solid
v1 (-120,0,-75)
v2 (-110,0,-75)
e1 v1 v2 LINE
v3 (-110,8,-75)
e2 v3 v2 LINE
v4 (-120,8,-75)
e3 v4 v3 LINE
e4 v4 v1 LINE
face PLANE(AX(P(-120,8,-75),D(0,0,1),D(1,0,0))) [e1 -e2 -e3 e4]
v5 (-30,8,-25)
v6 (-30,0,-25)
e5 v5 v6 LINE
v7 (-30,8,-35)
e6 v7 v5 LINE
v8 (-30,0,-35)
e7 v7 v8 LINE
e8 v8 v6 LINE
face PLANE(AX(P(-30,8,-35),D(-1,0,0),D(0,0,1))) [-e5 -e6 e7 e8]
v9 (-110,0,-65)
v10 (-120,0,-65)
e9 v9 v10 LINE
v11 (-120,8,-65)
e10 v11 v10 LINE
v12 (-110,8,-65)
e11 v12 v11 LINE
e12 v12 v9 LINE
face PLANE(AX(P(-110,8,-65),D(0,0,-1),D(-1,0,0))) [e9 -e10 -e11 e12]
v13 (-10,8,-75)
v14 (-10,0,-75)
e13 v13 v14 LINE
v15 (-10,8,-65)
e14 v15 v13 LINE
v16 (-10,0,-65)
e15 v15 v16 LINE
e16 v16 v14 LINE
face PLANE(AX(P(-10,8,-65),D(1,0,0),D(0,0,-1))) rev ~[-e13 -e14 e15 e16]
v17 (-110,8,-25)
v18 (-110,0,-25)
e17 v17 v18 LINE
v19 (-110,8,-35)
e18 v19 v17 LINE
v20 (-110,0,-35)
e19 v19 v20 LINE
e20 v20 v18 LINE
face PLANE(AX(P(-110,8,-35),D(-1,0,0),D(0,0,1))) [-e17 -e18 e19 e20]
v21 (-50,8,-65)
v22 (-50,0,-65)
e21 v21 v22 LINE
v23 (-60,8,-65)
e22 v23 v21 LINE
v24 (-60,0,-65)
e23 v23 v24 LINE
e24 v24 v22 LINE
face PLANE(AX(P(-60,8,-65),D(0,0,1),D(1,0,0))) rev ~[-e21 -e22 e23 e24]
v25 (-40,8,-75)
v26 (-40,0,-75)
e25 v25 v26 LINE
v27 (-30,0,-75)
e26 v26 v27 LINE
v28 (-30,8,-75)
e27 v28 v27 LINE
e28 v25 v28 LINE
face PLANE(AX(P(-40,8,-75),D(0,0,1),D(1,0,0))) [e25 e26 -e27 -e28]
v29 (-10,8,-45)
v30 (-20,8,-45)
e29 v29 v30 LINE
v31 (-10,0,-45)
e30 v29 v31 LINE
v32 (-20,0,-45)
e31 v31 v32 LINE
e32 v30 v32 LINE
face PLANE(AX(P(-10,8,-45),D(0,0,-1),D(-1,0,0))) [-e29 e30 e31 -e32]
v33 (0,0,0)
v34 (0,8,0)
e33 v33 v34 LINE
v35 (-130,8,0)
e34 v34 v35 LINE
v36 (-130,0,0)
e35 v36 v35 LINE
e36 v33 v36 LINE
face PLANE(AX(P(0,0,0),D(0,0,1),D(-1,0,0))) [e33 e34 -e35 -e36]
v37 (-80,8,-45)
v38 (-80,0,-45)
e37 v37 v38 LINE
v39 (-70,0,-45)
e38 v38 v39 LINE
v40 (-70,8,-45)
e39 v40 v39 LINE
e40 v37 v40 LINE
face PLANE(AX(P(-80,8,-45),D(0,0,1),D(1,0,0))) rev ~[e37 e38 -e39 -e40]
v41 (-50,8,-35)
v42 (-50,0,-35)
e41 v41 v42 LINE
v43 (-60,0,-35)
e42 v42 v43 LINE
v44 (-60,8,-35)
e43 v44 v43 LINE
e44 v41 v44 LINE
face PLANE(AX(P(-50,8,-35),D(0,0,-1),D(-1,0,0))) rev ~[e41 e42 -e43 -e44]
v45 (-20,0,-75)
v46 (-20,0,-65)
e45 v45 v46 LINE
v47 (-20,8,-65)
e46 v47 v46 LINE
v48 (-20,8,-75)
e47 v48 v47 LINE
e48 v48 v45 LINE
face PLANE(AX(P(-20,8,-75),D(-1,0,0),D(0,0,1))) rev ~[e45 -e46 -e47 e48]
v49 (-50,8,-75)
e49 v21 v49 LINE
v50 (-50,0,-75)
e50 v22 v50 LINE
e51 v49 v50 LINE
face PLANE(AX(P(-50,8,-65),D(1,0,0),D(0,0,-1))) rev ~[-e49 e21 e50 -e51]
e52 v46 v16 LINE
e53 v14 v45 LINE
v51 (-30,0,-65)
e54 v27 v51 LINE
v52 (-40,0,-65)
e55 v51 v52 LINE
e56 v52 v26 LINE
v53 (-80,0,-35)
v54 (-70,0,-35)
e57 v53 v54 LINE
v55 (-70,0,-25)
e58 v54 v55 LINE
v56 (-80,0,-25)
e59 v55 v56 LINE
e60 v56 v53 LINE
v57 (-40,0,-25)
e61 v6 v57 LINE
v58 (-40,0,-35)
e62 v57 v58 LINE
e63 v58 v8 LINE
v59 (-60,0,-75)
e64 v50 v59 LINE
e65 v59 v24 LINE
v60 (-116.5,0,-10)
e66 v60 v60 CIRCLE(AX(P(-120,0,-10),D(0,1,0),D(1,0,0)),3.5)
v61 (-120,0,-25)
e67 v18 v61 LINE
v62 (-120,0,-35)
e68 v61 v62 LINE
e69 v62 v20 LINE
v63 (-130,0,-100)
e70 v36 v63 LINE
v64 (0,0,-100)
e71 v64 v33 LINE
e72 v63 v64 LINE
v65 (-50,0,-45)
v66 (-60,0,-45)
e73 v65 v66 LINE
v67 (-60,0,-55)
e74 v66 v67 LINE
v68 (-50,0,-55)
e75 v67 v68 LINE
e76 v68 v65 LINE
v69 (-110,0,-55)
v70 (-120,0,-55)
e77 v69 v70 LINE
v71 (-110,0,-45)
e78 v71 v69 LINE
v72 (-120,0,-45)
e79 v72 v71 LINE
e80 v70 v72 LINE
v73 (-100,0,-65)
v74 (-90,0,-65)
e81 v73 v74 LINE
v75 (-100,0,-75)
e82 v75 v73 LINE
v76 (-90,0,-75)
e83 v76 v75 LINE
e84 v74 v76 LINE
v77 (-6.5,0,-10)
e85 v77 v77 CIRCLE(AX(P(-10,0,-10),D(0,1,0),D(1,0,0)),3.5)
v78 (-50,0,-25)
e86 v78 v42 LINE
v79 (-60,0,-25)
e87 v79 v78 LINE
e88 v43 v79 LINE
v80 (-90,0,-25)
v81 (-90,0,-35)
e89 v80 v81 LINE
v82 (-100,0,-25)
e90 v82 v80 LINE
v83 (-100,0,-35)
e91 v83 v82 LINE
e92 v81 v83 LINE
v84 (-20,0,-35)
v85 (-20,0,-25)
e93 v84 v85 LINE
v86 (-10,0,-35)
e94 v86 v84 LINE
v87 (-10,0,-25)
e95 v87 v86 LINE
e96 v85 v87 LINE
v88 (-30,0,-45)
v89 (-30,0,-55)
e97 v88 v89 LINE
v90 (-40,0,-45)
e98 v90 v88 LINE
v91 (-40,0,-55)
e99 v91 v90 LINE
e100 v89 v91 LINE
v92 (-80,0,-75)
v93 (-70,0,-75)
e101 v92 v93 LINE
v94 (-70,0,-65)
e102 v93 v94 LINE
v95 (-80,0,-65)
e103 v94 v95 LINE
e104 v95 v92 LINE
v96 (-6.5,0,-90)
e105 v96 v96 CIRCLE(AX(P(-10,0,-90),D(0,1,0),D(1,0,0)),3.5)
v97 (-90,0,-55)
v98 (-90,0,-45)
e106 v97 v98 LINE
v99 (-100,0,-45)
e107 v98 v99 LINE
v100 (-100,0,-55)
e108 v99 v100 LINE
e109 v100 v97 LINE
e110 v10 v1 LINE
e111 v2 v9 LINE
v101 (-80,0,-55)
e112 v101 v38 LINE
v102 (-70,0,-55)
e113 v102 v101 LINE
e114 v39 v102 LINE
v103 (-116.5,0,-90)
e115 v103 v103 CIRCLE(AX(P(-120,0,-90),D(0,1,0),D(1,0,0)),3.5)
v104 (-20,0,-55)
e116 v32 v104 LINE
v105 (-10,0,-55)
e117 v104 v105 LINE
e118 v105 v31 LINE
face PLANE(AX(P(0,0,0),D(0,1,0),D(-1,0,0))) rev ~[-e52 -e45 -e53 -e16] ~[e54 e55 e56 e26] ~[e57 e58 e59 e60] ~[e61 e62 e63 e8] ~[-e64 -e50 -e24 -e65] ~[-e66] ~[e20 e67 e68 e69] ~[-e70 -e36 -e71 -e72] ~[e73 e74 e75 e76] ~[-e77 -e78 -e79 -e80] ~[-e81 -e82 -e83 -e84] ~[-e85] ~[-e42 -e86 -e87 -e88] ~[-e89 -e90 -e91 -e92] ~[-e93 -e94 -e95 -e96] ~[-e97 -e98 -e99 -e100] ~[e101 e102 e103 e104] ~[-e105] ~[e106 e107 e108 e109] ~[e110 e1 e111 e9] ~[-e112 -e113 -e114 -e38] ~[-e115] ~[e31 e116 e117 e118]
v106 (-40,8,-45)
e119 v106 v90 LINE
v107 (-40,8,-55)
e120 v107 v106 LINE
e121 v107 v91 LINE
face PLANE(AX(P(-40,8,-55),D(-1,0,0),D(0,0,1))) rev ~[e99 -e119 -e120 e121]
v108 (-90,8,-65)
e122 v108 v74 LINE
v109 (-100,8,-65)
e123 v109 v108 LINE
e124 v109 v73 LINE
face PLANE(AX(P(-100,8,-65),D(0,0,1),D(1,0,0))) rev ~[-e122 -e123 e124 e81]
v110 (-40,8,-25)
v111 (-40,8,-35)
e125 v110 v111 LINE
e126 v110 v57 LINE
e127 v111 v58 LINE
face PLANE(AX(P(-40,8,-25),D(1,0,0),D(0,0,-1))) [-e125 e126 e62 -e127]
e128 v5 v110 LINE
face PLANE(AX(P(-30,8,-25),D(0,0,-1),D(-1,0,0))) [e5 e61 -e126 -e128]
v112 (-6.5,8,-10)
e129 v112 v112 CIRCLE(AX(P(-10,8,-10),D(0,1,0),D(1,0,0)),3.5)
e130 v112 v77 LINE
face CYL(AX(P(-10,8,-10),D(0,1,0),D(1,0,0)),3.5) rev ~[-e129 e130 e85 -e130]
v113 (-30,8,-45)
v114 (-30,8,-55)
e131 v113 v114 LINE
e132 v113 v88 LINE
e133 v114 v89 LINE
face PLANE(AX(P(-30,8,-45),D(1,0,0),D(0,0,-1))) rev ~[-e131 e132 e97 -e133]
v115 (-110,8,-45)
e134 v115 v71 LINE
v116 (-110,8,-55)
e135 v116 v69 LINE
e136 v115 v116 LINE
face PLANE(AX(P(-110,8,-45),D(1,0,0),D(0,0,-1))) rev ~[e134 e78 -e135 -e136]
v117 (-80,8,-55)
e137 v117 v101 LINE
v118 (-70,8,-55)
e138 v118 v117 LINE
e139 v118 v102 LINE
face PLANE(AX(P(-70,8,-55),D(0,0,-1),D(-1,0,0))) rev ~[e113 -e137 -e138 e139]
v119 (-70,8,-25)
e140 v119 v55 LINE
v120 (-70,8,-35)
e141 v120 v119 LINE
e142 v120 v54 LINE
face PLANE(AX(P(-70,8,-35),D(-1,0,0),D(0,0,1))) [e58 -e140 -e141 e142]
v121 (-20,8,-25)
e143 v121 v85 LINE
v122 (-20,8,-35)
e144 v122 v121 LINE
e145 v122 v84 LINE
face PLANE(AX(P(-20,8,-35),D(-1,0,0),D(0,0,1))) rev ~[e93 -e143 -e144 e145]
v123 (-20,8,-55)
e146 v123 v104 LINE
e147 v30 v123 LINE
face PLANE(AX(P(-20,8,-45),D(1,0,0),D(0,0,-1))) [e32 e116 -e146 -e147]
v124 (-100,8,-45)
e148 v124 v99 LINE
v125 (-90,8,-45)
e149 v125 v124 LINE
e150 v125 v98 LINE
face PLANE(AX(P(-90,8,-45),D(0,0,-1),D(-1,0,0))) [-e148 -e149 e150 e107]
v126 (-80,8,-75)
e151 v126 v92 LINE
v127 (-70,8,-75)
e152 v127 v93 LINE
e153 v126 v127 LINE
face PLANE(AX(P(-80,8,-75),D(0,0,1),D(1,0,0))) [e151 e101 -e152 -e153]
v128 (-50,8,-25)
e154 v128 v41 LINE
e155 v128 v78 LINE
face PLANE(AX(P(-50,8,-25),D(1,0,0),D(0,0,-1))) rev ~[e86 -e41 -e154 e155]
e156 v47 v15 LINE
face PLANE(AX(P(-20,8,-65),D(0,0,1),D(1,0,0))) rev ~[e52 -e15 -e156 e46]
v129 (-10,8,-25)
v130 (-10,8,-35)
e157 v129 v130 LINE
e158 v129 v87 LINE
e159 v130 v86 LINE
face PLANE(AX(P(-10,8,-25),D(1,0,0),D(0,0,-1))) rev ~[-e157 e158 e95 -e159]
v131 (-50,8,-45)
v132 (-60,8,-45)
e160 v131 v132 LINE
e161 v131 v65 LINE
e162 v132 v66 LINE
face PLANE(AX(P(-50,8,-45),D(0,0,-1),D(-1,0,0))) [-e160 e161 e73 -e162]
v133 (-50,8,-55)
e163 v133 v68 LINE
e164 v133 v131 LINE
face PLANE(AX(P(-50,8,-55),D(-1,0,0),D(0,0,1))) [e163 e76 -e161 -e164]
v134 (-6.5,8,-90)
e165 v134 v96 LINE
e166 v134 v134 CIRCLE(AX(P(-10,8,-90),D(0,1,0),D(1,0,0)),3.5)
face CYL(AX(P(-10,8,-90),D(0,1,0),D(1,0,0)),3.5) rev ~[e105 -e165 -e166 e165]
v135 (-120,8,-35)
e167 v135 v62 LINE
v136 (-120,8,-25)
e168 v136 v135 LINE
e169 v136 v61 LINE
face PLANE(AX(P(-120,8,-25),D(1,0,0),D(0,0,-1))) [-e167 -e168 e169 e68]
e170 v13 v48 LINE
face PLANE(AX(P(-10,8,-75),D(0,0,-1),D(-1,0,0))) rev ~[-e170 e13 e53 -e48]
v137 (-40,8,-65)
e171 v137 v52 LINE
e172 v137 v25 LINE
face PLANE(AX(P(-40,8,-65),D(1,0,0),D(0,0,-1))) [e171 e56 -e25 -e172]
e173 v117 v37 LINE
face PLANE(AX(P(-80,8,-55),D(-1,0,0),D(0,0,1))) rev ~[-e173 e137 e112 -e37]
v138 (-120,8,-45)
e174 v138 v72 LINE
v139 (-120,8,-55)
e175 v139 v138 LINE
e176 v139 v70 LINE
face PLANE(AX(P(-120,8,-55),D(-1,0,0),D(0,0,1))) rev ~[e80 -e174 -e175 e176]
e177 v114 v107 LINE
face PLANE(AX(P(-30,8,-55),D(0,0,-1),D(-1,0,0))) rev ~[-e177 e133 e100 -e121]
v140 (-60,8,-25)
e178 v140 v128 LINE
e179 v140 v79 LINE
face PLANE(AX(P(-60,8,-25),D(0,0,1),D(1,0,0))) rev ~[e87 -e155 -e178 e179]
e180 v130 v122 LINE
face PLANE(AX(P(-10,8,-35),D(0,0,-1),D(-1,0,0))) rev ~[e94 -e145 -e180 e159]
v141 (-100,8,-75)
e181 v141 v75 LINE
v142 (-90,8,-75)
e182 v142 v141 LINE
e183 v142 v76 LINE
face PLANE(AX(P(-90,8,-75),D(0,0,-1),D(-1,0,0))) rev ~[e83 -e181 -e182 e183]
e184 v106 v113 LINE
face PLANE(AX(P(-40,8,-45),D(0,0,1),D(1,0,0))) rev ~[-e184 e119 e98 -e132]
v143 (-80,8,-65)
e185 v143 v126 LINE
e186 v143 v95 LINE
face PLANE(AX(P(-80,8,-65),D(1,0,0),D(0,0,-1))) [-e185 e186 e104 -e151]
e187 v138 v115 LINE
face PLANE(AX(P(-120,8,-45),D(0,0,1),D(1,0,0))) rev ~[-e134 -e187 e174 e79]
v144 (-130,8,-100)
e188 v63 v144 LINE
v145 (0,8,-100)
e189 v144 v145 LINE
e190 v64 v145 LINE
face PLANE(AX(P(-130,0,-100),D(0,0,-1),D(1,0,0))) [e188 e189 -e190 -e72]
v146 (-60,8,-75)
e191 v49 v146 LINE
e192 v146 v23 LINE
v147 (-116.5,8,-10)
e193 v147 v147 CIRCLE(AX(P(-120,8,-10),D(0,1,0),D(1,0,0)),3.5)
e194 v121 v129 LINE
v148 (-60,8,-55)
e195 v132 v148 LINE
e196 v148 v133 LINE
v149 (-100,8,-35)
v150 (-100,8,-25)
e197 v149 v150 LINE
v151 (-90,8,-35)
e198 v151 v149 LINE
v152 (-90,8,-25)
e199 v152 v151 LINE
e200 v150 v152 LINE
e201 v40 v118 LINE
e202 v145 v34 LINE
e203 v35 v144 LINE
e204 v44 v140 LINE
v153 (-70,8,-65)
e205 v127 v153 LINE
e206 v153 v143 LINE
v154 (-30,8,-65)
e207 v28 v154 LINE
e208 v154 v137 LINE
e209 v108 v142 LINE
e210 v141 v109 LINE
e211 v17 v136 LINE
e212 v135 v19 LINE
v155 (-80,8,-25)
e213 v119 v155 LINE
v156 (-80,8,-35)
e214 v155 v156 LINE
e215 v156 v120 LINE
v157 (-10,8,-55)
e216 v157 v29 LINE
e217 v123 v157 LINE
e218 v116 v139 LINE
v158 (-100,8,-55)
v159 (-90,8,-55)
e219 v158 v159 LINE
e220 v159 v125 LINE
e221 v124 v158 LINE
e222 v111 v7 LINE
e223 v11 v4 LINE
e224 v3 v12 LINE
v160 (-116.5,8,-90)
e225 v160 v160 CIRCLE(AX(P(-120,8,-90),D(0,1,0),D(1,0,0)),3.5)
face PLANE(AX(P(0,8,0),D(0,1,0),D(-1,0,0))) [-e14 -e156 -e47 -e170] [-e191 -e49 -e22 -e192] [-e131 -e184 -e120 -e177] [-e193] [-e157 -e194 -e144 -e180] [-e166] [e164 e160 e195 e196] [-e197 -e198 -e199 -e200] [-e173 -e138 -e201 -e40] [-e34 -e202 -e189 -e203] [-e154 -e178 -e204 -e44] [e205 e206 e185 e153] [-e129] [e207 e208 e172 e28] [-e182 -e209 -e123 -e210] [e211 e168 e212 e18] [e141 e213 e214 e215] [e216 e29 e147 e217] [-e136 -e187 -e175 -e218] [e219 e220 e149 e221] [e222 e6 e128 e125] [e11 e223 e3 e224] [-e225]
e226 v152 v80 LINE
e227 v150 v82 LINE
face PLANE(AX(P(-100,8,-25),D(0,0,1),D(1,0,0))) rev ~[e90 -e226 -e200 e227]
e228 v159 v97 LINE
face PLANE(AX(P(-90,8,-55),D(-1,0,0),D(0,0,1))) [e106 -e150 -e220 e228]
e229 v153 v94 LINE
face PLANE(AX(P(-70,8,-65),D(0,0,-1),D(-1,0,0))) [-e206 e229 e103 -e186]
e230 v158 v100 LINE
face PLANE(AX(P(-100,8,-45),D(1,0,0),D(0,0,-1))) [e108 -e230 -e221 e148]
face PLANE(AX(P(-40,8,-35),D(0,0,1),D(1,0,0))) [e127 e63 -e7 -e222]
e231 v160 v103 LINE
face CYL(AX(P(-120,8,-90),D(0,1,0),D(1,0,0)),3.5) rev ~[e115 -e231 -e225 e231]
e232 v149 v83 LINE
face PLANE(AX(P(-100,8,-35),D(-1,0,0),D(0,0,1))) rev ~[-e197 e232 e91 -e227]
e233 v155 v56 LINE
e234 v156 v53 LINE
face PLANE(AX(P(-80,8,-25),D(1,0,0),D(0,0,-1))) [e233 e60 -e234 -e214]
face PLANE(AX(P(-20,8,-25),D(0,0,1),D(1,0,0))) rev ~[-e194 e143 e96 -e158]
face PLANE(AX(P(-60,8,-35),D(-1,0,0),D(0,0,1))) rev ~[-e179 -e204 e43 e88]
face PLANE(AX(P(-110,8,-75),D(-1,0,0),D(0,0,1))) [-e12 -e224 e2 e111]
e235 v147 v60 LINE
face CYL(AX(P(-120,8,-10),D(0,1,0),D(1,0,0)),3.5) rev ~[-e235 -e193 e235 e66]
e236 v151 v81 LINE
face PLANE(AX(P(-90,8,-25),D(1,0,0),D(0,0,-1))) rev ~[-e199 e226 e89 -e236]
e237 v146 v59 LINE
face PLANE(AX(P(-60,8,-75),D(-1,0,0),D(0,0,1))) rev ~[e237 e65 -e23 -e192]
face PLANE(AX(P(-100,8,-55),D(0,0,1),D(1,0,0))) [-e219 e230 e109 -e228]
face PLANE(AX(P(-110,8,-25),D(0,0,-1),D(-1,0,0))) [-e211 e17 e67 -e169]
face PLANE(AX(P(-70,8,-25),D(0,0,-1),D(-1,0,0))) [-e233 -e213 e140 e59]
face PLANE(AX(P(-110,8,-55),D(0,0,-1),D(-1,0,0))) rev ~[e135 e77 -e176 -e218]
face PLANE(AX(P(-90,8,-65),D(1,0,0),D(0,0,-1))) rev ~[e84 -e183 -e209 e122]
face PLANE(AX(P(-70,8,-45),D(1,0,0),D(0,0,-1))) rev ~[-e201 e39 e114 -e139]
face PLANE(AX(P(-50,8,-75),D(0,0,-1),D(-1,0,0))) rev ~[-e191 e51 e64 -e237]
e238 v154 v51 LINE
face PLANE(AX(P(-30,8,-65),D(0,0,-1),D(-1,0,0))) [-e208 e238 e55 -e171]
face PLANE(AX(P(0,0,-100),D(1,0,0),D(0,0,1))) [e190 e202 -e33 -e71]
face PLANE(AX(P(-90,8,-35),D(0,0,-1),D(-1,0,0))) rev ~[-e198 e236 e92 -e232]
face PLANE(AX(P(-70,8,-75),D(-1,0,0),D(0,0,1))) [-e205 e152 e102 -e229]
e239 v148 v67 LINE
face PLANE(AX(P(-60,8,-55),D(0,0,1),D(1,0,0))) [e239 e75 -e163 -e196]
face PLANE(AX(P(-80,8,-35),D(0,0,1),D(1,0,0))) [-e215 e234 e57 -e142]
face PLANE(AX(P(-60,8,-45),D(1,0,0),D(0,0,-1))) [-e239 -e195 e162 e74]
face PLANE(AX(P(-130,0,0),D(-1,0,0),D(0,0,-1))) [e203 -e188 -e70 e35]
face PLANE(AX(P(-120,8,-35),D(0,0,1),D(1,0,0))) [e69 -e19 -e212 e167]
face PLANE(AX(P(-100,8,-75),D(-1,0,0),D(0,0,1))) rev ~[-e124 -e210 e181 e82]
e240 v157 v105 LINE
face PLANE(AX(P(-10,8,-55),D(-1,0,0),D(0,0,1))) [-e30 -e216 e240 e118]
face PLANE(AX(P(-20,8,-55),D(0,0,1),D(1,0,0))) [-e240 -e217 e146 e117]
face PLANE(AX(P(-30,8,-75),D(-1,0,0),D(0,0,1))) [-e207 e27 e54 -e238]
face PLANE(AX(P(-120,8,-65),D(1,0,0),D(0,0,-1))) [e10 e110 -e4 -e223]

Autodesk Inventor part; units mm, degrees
ref_plane "YZ Plane" through (0, 0, 0) normal (1, 0, 0) x (0, 1, 0)
ref_plane "XZ Plane" through (0, 0, 0) normal (0, 1, 0) x (-1, 0, 0)
ref_plane "XY Plane" through (0, 0, 0) normal (0, 0, 1) x (1, 0, 0)
sketch "Sketch1" plane through (0, 0, 0) normal (0, 1, 0) x (-1, 0, 0)
  line L0 (0, 0) -> (130, 0)
  line L1 (130, 0) -> (130, -100)
  line L2 (130, -100) -> (0, -100)
  line L3 (0, -100) -> (0, 0)
  dimension "d0" = 130
  dimension "d1" = 100
extrude "Extrusion1" add sketch "Sketch1" along normal blind 8
sketch "Sketch3" plane through (0, 8, 0) normal (0, 1, 0) x (1, 0, 0)
  line L0 (-120, 5) -> (-110, 5)
  line L1 (-110, 5) -> (-110, 15)
  line L2 (-110, 15) -> (-120, 15)
  line L3 (-120, 15) -> (-120, 5)
  line L4 (-130, 100) -> (-130, 0) projected
  line L5 (-130, 0) -> (0, 0) projected
  line L6 (-105, 0) -> (-105, 100)
  line L7 (0, 100) -> (-130, 100) projected
  line L8 (-130, 20) -> (-105, 20)
  line L9 (-120, 35) -> (-110, 35)
  line L10 (-110, 35) -> (-110, 25)
  line L11 (-110, 25) -> (-120, 25)
  line L12 (-120, 25) -> (-120, 35)
  line L13 (-130, 40) -> (-105, 40)
  line L14 (-120, 75) -> (-110, 75)
  line L15 (-110, 75) -> (-110, 65)
  line L16 (-110, 65) -> (-120, 65)
  line L17 (-120, 65) -> (-120, 75)
  line L18 (-120, 45) -> (-110, 45)
  line L19 (-110, 45) -> (-110, 55)
  line L20 (-110, 55) -> (-120, 55)
  line L21 (-120, 55) -> (-120, 45)
  line L22 (-130, 80) -> (-105, 80)
  line L23 (-120, 155) -> (-110, 155)
  line L24 (-110, 155) -> (-110, 145)
  line L25 (-110, 145) -> (-120, 145)
  line L26 (-120, 145) -> (-120, 155)
  line L27 (-130, 100) -> (0, 100)
  line L28 (-120, 125) -> (-110, 125)
  line L29 (-110, 125) -> (-110, 135)
  line L30 (-110, 135) -> (-120, 135)
  line L31 (-120, 135) -> (-120, 125)
  line L32 (-110, 95) -> (-120, 95)
  line L33 (-120, 95) -> (-120, 85)
  line L34 (-110, 105) -> (-120, 105)
  line L35 (-120, 85) -> (-110, 85)
  line L36 (-110, 85) -> (-110, 95)
  line L37 (-120, 105) -> (-120, 115)
  line L38 (-120, 115) -> (-110, 115)
  line L39 (-110, 115) -> (-110, 105)
  line L40 (-90, 5) -> (-100, 5)
  line L41 (-100, 5) -> (-100, 15)
  line L42 (-100, 15) -> (-90, 15)
  line L43 (-90, 15) -> (-90, 5)
  line L44 (-90, 35) -> (-100, 35)
  line L45 (-100, 35) -> (-100, 25)
  line L46 (-100, 25) -> (-90, 25)
  line L47 (-90, 25) -> (-90, 35)
  line L48 (-100, 65) -> (-90, 65)
  line L49 (-90, 65) -> (-90, 75)
  line L50 (-100, 55) -> (-90, 55)
  line L51 (-90, 75) -> (-100, 75)
  line L52 (-100, 75) -> (-100, 65)
  line L53 (-90, 55) -> (-90, 45)
  line L54 (-90, 45) -> (-100, 45)
  line L55 (-100, 45) -> (-100, 55)
  line L56 (-100, 105) -> (-90, 105)
  line L57 (-90, 105) -> (-90, 115)
  line L58 (-100, 115) -> (-100, 105)
  line L59 (-90, 115) -> (-100, 115)
  line L60 (-90, 125) -> (-100, 125)
  line L61 (-100, 125) -> (-100, 135)
  line L62 (-100, 135) -> (-90, 135)
  line L63 (-90, 135) -> (-90, 125)
  line L64 (-90, 155) -> (-100, 155)
  line L65 (-100, 155) -> (-100, 145)
  line L66 (-100, 145) -> (-90, 145)
  line L67 (-90, 145) -> (-90, 155)
  line L68 (-90, 95) -> (-90, 85)
  line L69 (-90, 85) -> (-100, 85)
  line L70 (-100, 85) -> (-100, 95)
  line L71 (-100, 95) -> (-90, 95)
  line L72 (-85, 0) -> (-85, 100)
  line L73 (-50, 5) -> (-60, 5)
  line L74 (-60, 5) -> (-60, 15)
  line L75 (-60, 15) -> (-50, 15)
  line L76 (-50, 15) -> (-50, 5)
  line L77 (-50, 35) -> (-60, 35)
  line L78 (-60, 35) -> (-60, 25)
  line L79 (-60, 25) -> (-50, 25)
  line L80 (-50, 25) -> (-50, 35)
  line L81 (-60, 65) -> (-50, 65)
  line L82 (-50, 65) -> (-50, 75)
  line L83 (-60, 55) -> (-50, 55)
  line L84 (-50, 75) -> (-60, 75)
  line L85 (-60, 75) -> (-60, 65)
  line L86 (-50, 55) -> (-50, 45)
  line L87 (-50, 45) -> (-60, 45)
  line L88 (-60, 45) -> (-60, 55)
  line L89 (-60, 105) -> (-50, 105)
  line L90 (-50, 105) -> (-50, 115)
  line L91 (-60, 115) -> (-60, 105)
  line L92 (-50, 115) -> (-60, 115)
  line L93 (-50, 125) -> (-60, 125)
  line L94 (-60, 125) -> (-60, 135)
  line L95 (-60, 135) -> (-50, 135)
  line L96 (-50, 135) -> (-50, 125)
  line L97 (-50, 155) -> (-60, 155)
  line L98 (-60, 155) -> (-60, 145)
  line L99 (-60, 145) -> (-50, 145)
  line L100 (-50, 145) -> (-50, 155)
  line L101 (-50, 95) -> (-50, 85)
  line L102 (-50, 85) -> (-60, 85)
  line L103 (-60, 85) -> (-60, 95)
  line L104 (-60, 95) -> (-50, 95)
  line L105 (-80, 125) -> (-70, 125)
  line L106 (-70, 125) -> (-70, 135)
  line L107 (-80, 135) -> (-80, 125)
  line L108 (-70, 135) -> (-80, 135)
  line L109 (-70, 145) -> (-80, 145)
  line L110 (-80, 155) -> (-70, 155)
  line L111 (-80, 145) -> (-80, 155)
  line L112 (-70, 155) -> (-70, 145)
  line L113 (-70, 15) -> (-80, 15)
  line L114 (-80, 15) -> (-80, 5)
  line L115 (-80, 5) -> (-70, 5)
  line L116 (-70, 5) -> (-70, 15)
  line L117 (-80, 45) -> (-70, 45)
  line L118 (-80, 35) -> (-70, 35)
  line L119 (-70, 25) -> (-80, 25)
  line L120 (-80, 25) -> (-80, 35)
  line L121 (-70, 35) -> (-70, 25)
  line L122 (-70, 45) -> (-70, 55)
  line L123 (-80, 55) -> (-80, 45)
  line L124 (-70, 65) -> (-80, 65)
  line L125 (-70, 75) -> (-70, 65)
  line L126 (-80, 65) -> (-80, 75)
  line L127 (-80, 75) -> (-70, 75)
  line L128 (-70, 55) -> (-80, 55)
  line L129 (-80, 85) -> (-70, 85)
  line L130 (-70, 85) -> (-70, 95)
  line L131 (-80, 95) -> (-80, 85)
  line L132 (-70, 95) -> (-80, 95)
  line L133 (-70, 105) -> (-80, 105)
  line L134 (-80, 115) -> (-70, 115)
  line L135 (-80, 105) -> (-80, 115)
  line L136 (-70, 115) -> (-70, 105)
  line L137 (-45, 0) -> (-45, 100)
  line L138 (-10, 125) -> (-20, 125)
  line L139 (-20, 125) -> (-20, 135)
  line L140 (-10, 135) -> (-10, 125)
  line L141 (-20, 135) -> (-10, 135)
  line L142 (-20, 145) -> (-10, 145)
  line L143 (-20, 155) -> (-20, 145)
  line L144 (-10, 155) -> (-20, 155)
  line L145 (-10, 145) -> (-10, 155)
  line L146 (-40, 5) -> (-30, 5)
  line L147 (-30, 5) -> (-30, 15)
  line L148 (-30, 15) -> (-40, 15)
  line L149 (-40, 15) -> (-40, 5)
  line L150 (-40, 65) -> (-40, 75)
  line L151 (-40, 35) -> (-30, 35)
  line L152 (-30, 35) -> (-30, 25)
  line L153 (-30, 25) -> (-40, 25)
  line L154 (-40, 25) -> (-40, 35)
  line L155 (-30, 65) -> (-40, 65)
  line L156 (-40, 75) -> (-30, 75)
  line L157 (-30, 75) -> (-30, 65)
  line L158 (-30, 55) -> (-40, 55)
  line L159 (-40, 55) -> (-40, 45)
  line L160 (-40, 45) -> (-30, 45)
  line L161 (-30, 45) -> (-30, 55)
  line L162 (-30, 125) -> (-30, 135)
  line L163 (-30, 155) -> (-30, 145)
  line L164 (-40, 125) -> (-30, 125)
  line L165 (-40, 135) -> (-40, 125)
  line L166 (-30, 135) -> (-40, 135)
  line L167 (-30, 145) -> (-40, 145)
  line L168 (-40, 145) -> (-40, 155)
  line L169 (-40, 155) -> (-30, 155)
  line L170 (-30, 105) -> (-40, 105)
  line L171 (-40, 105) -> (-40, 115)
  line L172 (-30, 115) -> (-30, 105)
  line L173 (-40, 115) -> (-30, 115)
  line L174 (-40, 95) -> (-40, 85)
  line L175 (-40, 85) -> (-30, 85)
  line L176 (-30, 85) -> (-30, 95)
  line L177 (-30, 95) -> (-40, 95)
  line L178 (-10, 115) -> (-20, 115)
  line L179 (-20, 115) -> (-20, 105)
  line L180 (-10, 105) -> (-10, 115)
  line L181 (-20, 105) -> (-10, 105)
  line L182 (-20, 95) -> (-10, 95)
  line L183 (-20, 85) -> (-20, 95)
  line L184 (-10, 85) -> (-20, 85)
  line L185 (-10, 95) -> (-10, 85)
  line L186 (-10, 75) -> (-20, 75)
  line L187 (-10, 65) -> (-10, 75)
  line L188 (-20, 65) -> (-10, 65)
  line L189 (-20, 75) -> (-20, 65)
  line L190 (-20, 15) -> (-10, 15)
  line L191 (-10, 15) -> (-10, 5)
  line L192 (-20, 5) -> (-20, 15)
  line L193 (-10, 5) -> (-20, 5)
  line L194 (-10, 45) -> (-20, 45)
  line L195 (-10, 35) -> (-20, 35)
  line L196 (-10, 25) -> (-10, 35)
  line L197 (-20, 25) -> (-10, 25)
  line L198 (-20, 55) -> (-10, 55)
  line L199 (-20, 45) -> (-20, 55)
  line L200 (-20, 35) -> (-20, 25)
  line L201 (-10, 55) -> (-10, 45)
  point P0 (-65, 20)
  point P1 (-65, 40)
  point P2 (-65, 80)
  point P3 (-25, 20)
  point P4 (-25, 40)
  point P5 (-25, 80)
  dimension "d21" = 10
  dimension "d22" = 10
  dimension "d23" = 10
  dimension "d24" = 5
  dimension "d25" = 5
  dimension "d26" = 5
  dimension "d27" = 5
  dimension "d28" = 5
  dimension "d29" = 5
  dimension "d30" = 5
  dimension "d40" = 5
sketch "Sketch4" plane through (0, 8, 0) normal (0, 1, 0) x (1, 0, 0)
  circle A0 centre (-120, 10) radius 3.5
  line L0 (-130, 0) -> (0, 0) projected
  line L1 (-130, 100) -> (-130, 0) projected
  line L2 (-65, 0) -> (-65, 170)
  line L3 (-130, 100) -> (-130, 0) projected
  line L4 (-130, 50) -> (0, 50)
  circle A1 centre (-10, 10) radius 3.5
  circle A2 centre (-120, 90) radius 3.5
  line L5 (-130, 100) -> (0, 100)
  circle A3 centre (-10, 90) radius 3.5
  point P0 (0, 100)
  dimension "d35" = 7
  dimension "d36" = 10
  dimension "d37" = 10
extrude "Extrusion5" cut sketch "Sketch4" against normal blind 20 contours A0 | A1 | A2 | A3
extrude "Extrusion6" cut sketch "Sketch3" against normal blind 20 contours L9 L10 L11 L12 | L14 L15 L16 L17 | L21 L20 L19 L18 | L47 L46 L45 L44 | L52 L51 L49 L48 | L50 L53 L54 L55 | L80 L79 L78 L77 | L85 L84 L82 L81 | L83 L86 L87 L88 | L123 L128 L122 L117 | L118 L121 L119 L120 | L124 L126 L127 L125 | L150 L156 L157 L155 | L151 L152 L153 L154 | L161 L160 L159 L158 | L187 L188 L189 L186 | L194 L199 L198 L201 | L196 L197 L200 L195
properties part number "floor_plan"
